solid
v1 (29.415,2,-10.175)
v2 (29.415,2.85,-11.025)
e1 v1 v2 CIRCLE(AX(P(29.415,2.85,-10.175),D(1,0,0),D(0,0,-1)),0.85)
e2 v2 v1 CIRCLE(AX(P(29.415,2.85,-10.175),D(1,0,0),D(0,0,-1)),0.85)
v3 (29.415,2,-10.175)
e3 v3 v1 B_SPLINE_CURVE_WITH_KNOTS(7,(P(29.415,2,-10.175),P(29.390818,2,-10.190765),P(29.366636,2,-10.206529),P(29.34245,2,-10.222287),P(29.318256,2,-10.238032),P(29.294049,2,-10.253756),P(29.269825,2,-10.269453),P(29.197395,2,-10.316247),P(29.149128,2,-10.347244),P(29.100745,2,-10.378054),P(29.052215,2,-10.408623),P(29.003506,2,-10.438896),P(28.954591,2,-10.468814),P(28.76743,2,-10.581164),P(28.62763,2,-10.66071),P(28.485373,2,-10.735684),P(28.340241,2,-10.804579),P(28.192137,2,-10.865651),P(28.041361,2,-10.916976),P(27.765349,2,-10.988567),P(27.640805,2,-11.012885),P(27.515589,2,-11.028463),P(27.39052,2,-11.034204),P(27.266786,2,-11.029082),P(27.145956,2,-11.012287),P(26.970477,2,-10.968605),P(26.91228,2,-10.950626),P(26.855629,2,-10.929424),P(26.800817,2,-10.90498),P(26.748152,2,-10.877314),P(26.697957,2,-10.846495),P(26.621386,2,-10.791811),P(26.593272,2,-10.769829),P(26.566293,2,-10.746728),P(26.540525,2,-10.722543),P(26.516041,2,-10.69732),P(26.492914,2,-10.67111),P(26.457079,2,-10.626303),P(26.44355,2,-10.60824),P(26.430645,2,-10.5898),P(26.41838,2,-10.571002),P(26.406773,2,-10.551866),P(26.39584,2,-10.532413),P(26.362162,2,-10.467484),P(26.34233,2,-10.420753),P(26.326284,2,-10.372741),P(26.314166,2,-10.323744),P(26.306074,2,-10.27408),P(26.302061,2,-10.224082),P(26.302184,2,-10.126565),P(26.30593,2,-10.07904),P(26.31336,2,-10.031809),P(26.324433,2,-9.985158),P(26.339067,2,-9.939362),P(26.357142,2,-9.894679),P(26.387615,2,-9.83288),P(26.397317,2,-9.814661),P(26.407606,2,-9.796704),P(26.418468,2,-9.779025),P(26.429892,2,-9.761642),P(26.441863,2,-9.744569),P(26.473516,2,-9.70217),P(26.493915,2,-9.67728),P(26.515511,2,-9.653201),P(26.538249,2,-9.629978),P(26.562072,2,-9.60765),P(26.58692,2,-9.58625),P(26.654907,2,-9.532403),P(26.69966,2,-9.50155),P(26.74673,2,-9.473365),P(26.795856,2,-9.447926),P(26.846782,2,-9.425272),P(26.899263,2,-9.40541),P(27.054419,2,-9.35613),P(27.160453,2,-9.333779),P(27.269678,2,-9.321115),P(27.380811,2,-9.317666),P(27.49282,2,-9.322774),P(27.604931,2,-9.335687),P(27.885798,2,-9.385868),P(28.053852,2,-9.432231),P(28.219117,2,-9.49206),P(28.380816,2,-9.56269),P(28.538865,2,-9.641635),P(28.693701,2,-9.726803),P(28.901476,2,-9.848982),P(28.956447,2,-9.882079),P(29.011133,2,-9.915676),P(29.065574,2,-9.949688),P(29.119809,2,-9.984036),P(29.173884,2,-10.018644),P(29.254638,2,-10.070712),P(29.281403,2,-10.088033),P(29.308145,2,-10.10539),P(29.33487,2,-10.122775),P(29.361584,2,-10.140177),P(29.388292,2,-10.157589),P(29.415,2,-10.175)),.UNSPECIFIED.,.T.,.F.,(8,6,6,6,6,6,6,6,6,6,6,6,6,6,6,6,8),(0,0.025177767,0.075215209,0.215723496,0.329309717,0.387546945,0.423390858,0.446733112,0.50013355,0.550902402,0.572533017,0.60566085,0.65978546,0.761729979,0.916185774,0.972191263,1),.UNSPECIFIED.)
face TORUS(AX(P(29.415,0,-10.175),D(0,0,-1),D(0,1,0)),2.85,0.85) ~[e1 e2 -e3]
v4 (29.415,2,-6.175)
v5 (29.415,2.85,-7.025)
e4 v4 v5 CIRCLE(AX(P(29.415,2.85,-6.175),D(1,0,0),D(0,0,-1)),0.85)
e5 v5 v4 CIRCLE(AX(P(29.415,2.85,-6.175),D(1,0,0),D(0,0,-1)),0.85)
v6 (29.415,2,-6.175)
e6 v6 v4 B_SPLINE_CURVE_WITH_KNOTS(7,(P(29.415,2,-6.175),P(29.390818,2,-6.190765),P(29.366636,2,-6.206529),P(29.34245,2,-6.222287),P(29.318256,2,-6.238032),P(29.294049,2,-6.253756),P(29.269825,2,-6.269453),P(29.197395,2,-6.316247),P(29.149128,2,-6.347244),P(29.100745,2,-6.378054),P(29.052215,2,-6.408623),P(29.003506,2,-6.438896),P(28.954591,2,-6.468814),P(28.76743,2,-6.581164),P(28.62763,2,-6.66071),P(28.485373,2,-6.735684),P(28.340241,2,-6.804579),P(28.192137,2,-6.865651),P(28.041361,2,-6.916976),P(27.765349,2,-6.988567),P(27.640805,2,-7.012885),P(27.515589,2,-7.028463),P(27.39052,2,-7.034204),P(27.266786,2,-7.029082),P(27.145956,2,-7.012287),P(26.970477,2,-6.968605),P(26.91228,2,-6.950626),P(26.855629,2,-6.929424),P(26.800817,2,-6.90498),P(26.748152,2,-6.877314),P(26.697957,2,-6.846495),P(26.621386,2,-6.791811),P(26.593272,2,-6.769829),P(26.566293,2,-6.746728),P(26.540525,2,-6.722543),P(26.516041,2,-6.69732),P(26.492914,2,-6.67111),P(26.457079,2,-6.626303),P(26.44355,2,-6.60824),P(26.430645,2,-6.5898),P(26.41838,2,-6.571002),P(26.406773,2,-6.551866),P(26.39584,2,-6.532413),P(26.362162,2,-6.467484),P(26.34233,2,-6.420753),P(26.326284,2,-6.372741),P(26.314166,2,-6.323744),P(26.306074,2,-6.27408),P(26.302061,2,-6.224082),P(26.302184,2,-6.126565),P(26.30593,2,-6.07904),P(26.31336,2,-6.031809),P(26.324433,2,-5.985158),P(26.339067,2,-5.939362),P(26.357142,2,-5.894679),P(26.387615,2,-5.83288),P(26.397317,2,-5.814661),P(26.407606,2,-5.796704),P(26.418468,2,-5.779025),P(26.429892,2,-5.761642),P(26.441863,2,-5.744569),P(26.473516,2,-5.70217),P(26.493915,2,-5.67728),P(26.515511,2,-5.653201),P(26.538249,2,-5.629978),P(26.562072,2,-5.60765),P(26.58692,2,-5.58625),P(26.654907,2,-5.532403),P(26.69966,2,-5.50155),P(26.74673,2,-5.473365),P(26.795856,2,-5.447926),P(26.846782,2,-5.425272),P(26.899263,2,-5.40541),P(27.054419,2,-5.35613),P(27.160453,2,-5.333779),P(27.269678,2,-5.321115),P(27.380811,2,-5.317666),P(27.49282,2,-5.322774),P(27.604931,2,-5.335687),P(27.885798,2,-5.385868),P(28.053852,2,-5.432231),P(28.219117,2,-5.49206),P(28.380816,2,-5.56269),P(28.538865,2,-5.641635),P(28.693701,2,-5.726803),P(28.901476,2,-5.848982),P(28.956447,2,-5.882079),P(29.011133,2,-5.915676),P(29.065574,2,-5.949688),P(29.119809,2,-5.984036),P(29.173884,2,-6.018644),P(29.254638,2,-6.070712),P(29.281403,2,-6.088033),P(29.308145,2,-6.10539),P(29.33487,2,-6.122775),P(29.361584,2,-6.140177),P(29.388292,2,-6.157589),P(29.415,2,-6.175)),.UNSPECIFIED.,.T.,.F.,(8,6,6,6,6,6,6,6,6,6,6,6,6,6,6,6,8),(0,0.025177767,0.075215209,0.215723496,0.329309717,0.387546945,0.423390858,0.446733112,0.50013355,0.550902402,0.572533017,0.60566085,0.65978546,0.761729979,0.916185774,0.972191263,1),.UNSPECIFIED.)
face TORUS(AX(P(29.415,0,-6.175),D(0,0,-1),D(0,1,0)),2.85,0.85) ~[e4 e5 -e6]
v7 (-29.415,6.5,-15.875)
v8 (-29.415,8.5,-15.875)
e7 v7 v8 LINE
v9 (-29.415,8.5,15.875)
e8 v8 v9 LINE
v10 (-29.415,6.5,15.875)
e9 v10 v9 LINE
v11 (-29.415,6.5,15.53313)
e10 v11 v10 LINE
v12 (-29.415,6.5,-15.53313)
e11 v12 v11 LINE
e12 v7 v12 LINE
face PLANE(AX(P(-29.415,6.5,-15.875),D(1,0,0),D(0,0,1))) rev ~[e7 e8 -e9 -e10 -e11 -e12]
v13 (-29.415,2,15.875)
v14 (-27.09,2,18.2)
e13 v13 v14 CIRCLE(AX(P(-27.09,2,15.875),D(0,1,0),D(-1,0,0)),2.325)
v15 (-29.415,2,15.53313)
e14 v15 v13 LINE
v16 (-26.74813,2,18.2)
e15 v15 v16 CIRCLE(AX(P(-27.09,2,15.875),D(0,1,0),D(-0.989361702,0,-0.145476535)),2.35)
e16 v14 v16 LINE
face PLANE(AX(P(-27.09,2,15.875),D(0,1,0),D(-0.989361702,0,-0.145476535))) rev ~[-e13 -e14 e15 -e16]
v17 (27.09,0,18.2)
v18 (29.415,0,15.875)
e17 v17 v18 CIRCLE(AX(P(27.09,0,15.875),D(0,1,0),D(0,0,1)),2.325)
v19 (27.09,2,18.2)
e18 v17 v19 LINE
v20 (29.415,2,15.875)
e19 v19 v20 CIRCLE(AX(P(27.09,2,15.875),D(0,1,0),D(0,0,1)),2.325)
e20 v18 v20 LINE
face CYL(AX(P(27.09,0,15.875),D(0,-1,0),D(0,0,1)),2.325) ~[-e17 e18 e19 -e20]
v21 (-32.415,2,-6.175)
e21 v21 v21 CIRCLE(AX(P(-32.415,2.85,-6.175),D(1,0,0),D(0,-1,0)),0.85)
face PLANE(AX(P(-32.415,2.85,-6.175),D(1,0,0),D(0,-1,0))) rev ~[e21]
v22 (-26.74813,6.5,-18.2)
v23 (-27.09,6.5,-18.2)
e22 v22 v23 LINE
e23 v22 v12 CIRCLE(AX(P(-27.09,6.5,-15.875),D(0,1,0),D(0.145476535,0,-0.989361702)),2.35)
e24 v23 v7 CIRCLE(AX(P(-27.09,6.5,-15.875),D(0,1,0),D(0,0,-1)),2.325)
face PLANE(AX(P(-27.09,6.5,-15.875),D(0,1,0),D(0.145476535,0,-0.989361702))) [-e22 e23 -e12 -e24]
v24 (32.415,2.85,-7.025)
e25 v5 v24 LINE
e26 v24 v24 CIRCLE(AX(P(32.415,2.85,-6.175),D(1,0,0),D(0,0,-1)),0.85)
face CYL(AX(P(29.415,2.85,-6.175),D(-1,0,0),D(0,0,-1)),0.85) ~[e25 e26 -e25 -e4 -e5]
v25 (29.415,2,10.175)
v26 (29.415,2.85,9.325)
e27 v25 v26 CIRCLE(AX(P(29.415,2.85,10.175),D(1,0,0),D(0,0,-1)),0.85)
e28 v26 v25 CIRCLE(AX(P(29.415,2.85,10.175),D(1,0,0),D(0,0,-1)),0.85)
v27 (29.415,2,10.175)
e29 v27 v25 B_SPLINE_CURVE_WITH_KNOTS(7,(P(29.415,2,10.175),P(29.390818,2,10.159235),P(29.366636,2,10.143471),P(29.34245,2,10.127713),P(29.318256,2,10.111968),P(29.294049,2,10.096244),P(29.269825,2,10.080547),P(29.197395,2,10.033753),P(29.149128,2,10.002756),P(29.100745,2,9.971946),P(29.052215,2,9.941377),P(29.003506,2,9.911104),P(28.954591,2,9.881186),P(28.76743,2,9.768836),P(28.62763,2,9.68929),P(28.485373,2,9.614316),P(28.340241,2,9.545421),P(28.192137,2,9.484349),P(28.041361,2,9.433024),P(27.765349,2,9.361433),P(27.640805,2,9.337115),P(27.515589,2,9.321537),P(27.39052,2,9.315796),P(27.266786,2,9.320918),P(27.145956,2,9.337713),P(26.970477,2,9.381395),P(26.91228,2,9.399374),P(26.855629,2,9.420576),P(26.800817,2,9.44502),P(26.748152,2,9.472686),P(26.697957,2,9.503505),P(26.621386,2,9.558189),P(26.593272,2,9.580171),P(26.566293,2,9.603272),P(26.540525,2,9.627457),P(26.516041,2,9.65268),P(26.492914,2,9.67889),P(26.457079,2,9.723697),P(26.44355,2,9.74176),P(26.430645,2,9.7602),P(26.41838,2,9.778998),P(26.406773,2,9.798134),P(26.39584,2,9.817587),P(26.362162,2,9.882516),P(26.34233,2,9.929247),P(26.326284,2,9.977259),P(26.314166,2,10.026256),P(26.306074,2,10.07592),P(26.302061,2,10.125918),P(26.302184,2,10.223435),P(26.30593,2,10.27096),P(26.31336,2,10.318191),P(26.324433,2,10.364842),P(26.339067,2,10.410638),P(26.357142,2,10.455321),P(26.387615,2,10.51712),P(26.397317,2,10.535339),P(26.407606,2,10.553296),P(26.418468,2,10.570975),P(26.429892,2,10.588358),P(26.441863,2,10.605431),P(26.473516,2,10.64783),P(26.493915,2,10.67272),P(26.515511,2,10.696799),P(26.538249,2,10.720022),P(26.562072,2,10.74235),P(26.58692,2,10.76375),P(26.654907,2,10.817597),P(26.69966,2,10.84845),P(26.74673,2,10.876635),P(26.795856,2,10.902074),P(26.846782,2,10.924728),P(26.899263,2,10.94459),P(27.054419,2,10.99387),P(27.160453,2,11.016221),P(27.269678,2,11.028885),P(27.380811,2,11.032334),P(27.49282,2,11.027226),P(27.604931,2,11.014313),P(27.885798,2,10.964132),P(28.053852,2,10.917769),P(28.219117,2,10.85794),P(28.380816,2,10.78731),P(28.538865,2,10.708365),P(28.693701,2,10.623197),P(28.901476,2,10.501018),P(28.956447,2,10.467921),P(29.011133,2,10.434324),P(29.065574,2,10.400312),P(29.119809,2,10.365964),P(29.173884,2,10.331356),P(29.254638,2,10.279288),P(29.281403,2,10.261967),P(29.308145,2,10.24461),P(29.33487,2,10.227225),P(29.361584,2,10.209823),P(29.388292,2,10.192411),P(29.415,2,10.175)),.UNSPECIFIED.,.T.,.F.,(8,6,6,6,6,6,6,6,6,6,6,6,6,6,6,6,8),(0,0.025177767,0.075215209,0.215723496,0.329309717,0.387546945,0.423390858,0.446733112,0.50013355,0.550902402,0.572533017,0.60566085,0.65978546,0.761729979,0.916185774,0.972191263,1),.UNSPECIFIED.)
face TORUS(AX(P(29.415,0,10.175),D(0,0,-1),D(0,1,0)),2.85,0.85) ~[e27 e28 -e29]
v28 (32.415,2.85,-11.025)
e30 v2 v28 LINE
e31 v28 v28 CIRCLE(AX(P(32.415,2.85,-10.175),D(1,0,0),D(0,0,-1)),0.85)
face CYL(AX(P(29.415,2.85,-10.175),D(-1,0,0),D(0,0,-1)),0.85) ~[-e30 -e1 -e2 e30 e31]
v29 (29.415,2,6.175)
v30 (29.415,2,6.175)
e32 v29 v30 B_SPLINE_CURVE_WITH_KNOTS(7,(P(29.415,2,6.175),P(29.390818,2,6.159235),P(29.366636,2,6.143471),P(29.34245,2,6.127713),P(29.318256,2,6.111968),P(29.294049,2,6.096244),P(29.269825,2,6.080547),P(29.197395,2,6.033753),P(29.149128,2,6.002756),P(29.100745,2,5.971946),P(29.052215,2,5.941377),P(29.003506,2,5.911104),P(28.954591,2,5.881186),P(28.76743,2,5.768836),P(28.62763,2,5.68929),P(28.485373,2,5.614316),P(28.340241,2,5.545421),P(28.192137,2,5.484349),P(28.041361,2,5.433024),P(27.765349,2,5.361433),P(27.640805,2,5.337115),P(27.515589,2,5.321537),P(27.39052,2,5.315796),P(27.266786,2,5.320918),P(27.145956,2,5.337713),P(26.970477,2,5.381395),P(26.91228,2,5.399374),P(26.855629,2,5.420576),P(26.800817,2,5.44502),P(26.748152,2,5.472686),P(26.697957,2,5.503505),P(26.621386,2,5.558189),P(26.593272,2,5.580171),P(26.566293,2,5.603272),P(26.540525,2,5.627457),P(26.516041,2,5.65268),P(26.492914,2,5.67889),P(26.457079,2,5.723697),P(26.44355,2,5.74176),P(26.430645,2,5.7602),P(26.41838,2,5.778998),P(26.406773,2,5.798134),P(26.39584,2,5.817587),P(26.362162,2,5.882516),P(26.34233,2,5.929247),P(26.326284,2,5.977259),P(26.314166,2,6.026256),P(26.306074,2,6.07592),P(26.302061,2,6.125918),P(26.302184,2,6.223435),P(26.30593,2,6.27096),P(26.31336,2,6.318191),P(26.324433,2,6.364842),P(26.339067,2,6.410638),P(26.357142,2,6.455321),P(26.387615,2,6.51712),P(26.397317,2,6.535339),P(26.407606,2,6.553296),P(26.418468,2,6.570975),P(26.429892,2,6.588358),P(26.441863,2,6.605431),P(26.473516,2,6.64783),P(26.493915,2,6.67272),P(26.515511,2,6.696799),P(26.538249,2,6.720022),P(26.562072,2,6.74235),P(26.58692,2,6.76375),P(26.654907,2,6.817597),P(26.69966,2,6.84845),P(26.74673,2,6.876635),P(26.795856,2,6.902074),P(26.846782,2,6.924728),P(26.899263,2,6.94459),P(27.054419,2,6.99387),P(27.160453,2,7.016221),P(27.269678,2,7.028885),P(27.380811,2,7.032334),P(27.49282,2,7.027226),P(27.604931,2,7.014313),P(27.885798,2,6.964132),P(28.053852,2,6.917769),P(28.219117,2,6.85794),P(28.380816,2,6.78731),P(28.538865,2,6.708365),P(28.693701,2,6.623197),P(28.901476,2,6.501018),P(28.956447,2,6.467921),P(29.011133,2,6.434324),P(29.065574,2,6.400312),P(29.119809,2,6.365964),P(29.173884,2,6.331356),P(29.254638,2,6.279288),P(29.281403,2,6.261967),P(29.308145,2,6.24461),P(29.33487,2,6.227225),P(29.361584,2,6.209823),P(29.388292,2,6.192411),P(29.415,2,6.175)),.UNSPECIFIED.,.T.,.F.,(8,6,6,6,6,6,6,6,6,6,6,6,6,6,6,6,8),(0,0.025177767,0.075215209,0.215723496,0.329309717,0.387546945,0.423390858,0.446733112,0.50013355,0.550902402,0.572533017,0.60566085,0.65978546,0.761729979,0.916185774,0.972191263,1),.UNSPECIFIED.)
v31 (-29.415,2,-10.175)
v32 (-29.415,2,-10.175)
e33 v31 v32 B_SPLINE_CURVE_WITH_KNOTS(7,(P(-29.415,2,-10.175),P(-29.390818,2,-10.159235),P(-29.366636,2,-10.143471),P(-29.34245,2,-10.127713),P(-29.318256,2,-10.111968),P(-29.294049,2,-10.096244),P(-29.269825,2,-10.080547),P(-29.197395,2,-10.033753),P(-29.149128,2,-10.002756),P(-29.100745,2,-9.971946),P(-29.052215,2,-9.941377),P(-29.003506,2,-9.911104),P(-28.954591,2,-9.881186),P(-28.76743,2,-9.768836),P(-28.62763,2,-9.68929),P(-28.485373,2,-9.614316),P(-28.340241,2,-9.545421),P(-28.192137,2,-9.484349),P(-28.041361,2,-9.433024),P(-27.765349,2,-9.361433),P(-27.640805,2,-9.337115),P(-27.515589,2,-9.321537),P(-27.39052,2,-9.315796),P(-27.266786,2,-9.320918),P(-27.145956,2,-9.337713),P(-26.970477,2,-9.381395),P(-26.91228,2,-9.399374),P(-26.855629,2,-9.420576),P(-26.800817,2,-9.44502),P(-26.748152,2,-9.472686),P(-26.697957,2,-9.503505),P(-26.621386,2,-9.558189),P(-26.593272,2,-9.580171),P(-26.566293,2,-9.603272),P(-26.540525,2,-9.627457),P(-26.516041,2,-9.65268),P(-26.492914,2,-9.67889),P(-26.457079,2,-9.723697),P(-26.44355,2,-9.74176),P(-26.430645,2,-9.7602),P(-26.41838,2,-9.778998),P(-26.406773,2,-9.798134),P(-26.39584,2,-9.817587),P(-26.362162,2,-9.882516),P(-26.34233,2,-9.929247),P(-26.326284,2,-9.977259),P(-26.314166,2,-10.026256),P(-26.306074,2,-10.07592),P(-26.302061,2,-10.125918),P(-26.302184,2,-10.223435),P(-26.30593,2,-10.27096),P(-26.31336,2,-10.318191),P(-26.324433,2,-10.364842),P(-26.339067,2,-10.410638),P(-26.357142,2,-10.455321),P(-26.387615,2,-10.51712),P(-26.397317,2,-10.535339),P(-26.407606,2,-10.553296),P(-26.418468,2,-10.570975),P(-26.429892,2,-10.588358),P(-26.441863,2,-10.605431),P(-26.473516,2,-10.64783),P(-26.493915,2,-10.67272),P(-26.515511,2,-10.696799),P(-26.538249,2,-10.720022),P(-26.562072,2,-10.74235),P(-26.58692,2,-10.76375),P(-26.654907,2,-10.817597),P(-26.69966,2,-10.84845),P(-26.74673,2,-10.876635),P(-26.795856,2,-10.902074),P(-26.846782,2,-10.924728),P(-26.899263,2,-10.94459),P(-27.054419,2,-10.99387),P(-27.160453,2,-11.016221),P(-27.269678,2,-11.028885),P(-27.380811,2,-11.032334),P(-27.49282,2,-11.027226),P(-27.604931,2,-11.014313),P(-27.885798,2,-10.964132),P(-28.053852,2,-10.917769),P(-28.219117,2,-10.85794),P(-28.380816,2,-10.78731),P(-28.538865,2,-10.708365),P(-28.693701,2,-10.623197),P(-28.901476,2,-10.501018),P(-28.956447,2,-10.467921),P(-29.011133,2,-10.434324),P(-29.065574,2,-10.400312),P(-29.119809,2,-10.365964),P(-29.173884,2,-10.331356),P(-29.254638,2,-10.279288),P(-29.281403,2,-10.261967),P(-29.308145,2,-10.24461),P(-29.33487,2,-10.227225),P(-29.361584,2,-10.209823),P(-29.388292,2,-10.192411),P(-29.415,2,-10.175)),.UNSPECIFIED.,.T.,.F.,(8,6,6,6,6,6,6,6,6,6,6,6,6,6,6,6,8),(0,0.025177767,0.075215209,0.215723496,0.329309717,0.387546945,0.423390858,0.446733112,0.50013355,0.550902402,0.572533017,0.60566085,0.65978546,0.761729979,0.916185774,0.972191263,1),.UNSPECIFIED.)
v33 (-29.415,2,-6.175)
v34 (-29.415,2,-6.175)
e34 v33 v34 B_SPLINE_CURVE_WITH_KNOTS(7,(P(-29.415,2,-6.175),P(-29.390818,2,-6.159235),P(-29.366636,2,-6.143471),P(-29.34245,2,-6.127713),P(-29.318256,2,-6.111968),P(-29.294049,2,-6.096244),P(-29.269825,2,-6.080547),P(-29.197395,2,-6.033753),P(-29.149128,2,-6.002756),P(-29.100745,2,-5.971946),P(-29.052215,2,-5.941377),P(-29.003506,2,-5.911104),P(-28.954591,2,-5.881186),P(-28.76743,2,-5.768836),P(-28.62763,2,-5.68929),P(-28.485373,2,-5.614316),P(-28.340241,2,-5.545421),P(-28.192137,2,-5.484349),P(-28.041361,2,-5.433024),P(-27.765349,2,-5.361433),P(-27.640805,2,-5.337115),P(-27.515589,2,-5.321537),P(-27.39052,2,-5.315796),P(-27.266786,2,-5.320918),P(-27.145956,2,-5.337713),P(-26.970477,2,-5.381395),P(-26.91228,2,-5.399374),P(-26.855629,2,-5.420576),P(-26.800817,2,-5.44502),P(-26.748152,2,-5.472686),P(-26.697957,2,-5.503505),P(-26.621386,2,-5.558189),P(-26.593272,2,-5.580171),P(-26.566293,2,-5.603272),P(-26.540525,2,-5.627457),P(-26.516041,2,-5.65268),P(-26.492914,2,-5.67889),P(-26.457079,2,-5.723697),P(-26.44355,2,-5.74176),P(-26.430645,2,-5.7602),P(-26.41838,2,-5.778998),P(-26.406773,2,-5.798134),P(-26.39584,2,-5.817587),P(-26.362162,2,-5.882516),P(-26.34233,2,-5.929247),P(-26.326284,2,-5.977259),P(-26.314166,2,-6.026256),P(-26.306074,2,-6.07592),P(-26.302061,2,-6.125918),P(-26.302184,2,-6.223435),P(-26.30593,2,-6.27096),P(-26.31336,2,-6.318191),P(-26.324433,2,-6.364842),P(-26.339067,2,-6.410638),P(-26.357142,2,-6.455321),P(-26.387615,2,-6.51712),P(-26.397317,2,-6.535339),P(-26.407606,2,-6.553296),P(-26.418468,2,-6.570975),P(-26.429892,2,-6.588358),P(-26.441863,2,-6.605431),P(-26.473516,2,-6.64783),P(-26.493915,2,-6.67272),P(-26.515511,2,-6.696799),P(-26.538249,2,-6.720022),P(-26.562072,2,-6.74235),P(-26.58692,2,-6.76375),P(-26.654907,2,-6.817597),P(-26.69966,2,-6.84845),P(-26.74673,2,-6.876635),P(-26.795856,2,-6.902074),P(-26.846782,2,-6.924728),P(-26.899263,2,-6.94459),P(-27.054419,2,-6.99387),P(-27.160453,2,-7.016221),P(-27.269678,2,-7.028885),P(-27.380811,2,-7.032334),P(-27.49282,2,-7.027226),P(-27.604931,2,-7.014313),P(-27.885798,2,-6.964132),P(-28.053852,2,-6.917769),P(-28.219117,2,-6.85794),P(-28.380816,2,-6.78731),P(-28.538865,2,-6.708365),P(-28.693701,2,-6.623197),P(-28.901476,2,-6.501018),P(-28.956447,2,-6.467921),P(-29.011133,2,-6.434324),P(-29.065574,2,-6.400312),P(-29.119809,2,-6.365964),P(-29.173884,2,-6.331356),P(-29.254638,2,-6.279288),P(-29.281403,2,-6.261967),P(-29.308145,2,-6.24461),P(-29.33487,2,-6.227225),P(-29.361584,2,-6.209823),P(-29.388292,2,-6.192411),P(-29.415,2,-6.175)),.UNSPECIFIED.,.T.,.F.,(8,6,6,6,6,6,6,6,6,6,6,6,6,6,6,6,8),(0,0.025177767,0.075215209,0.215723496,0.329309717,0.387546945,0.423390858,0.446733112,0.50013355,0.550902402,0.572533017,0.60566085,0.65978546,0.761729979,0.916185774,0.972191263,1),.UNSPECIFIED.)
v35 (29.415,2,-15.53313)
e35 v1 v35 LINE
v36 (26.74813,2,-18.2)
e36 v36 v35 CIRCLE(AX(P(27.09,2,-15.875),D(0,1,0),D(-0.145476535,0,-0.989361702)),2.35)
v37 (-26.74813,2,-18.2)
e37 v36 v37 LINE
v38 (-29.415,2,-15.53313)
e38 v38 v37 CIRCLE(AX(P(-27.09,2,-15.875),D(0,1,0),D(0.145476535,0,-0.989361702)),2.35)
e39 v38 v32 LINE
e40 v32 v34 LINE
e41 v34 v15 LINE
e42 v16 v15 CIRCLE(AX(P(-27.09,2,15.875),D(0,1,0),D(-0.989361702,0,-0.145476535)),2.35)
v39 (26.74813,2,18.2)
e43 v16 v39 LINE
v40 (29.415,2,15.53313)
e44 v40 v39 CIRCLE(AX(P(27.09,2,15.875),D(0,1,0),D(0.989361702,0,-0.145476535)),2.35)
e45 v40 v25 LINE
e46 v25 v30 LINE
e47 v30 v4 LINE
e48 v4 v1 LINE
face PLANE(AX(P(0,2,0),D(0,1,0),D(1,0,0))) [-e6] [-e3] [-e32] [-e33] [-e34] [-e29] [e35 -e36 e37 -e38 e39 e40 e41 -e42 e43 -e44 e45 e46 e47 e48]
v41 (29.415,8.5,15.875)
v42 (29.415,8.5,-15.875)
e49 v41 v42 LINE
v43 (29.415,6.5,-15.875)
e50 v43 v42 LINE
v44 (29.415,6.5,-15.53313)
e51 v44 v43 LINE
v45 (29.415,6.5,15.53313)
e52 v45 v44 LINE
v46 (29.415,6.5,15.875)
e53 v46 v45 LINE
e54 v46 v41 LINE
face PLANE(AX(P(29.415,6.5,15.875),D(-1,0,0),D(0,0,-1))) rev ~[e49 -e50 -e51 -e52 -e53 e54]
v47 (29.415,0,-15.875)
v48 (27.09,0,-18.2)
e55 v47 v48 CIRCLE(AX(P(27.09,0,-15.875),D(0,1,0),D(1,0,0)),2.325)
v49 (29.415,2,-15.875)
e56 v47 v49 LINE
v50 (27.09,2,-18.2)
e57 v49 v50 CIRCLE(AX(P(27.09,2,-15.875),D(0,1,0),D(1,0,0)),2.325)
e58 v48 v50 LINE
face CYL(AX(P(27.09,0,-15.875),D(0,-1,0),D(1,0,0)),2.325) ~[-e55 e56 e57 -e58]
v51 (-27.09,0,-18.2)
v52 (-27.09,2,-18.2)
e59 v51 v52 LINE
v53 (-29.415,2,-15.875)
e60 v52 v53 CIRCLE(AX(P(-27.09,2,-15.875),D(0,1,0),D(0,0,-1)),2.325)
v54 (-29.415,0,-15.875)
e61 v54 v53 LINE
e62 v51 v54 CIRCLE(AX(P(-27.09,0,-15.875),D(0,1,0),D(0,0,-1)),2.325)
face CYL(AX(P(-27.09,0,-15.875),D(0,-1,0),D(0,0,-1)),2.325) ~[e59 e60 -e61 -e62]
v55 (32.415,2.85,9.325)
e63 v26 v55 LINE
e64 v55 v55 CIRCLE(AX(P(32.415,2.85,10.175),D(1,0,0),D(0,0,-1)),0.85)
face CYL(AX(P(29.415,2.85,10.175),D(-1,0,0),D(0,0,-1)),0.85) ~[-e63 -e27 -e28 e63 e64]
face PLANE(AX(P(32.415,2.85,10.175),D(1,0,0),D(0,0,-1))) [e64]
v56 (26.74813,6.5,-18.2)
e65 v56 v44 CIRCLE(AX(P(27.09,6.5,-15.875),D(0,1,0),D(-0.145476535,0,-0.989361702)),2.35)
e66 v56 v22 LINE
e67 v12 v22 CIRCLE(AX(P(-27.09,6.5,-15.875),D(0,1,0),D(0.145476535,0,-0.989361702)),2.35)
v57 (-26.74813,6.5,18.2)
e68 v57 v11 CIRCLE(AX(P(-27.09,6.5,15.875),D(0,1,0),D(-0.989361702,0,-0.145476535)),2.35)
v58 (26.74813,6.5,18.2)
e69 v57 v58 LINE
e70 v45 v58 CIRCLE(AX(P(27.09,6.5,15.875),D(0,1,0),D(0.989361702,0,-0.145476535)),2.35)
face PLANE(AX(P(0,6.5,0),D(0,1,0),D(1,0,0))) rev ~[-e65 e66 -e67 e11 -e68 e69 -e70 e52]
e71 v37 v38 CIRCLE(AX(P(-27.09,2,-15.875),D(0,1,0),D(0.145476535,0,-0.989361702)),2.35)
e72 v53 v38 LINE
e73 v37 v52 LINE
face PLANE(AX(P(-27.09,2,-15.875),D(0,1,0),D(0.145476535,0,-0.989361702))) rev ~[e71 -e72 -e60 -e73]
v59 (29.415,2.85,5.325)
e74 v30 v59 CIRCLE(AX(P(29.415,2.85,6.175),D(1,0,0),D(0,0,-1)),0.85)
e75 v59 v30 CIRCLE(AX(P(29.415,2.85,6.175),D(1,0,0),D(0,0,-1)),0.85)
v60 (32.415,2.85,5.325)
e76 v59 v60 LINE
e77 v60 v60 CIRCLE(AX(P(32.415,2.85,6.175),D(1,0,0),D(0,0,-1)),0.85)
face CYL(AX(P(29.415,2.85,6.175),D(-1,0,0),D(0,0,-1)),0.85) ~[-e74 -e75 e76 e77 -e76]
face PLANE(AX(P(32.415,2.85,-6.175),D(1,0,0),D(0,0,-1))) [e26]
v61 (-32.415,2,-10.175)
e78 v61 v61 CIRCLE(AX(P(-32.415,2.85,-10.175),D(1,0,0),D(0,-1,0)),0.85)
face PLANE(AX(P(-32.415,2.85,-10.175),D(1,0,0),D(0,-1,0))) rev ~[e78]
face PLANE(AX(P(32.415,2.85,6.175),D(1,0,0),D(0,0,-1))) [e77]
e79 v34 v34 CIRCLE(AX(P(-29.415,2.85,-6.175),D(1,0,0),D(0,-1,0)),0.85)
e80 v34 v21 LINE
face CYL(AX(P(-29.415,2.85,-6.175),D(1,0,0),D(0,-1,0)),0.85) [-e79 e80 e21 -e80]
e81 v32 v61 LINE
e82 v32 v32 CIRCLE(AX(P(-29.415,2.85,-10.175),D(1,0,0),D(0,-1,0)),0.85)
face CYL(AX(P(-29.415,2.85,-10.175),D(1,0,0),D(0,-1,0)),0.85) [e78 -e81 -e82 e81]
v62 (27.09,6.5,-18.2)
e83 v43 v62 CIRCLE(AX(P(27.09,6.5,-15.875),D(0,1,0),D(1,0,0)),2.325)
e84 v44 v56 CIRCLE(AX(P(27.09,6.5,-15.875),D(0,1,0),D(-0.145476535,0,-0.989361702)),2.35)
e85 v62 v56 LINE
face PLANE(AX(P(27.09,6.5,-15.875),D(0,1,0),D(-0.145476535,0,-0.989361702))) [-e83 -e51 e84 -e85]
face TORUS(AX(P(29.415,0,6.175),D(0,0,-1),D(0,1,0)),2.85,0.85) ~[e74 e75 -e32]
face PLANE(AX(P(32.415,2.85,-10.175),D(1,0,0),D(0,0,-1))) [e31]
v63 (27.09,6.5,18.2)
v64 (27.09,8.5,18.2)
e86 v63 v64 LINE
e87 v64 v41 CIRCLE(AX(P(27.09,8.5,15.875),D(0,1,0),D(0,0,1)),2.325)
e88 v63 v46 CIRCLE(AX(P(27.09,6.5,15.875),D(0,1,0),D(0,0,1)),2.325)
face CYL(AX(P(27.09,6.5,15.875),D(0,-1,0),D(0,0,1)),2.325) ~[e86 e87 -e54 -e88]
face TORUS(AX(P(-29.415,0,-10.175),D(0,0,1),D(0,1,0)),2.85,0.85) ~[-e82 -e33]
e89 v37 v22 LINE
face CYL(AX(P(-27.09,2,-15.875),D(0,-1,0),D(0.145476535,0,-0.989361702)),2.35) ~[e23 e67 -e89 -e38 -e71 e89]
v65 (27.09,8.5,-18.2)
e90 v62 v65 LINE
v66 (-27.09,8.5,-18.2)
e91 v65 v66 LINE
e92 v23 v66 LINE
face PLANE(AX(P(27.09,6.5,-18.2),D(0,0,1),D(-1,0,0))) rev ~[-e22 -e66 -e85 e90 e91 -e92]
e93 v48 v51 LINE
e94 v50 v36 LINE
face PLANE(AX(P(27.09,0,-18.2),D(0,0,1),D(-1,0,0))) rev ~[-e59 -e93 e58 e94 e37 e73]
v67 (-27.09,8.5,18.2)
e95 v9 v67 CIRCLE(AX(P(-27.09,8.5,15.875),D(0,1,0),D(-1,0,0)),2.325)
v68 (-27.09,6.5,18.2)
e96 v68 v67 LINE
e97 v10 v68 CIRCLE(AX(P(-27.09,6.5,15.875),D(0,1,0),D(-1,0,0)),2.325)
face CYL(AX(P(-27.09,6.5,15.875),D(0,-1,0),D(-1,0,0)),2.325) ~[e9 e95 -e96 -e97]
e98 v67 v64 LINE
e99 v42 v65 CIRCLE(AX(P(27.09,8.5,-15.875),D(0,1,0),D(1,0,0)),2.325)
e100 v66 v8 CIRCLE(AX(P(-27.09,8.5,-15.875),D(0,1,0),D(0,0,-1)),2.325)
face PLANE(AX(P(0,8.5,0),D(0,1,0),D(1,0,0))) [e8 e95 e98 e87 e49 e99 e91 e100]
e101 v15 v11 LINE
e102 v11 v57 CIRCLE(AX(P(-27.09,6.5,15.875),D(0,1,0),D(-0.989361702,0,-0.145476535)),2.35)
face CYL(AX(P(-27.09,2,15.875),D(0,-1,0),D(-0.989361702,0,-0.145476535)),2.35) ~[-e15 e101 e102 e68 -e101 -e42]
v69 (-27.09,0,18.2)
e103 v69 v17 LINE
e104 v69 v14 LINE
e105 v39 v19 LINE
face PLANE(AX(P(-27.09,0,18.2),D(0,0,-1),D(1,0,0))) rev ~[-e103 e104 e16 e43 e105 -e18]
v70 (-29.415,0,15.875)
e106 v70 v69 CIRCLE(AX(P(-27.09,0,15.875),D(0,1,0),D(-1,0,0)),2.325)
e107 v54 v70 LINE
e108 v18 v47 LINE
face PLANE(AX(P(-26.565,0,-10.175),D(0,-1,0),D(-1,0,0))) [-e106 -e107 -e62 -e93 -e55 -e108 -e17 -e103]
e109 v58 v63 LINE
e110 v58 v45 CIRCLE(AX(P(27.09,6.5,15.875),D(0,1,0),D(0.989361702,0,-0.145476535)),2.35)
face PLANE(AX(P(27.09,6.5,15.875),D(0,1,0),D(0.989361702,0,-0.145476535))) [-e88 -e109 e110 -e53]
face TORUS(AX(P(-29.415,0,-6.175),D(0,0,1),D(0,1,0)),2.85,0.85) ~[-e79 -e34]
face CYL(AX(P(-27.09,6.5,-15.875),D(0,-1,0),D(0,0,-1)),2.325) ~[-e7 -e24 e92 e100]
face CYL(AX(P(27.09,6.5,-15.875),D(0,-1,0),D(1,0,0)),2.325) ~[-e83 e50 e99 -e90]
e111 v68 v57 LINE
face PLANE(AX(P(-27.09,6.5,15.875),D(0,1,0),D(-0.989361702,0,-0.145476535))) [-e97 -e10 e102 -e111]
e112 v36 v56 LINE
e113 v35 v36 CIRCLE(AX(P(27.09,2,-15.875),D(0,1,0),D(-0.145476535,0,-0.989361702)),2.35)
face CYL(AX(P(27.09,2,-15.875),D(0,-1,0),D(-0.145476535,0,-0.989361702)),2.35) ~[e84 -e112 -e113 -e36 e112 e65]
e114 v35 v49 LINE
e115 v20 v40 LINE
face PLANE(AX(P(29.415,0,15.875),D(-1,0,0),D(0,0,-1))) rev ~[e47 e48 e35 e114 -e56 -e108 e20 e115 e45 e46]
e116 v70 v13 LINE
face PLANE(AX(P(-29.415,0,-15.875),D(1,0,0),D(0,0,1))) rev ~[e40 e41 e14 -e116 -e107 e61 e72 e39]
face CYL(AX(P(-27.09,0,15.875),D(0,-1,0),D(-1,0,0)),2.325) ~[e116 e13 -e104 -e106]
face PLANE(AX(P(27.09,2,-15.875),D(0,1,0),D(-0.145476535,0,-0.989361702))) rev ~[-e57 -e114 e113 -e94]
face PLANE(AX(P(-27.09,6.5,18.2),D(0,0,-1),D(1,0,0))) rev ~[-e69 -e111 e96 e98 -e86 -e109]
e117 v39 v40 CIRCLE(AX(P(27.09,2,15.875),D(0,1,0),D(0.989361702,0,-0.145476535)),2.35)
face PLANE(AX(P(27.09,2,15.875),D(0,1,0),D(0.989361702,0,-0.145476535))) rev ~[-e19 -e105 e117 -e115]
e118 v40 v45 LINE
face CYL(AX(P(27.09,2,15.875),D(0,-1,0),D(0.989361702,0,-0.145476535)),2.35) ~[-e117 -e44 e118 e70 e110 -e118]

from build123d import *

# Parameters (mm, degrees)
BOSS_EXTRUDE1_DEPTH   = 2
SKETCH2_R             = 2.35
BOSS_EXTRUDE2_DEPTH   = 4.5
BOSS_EXTRUDE3_START   = 6.5
BOSS_EXTRUDE3_DEPTH   = 2
BOSS_EXTRUDE4_START   = 29.415
SKETCH4_R             = 0.85
BOSS_EXTRUDE4_DEPTH   = 3
BOSS_EXTRUDE4_2_DEPTH = 3
BOSS_EXTRUDE4_3_DEPTH = 3
BOSS_EXTRUDE4_4_DEPTH = 3
SKETCH5_R             = 0.85
REVOLVE2_ANGLE        = 90
BOSS_EXTRUDE5_START   = -29.415
SKETCH4_2_R           = 0.85
BOSS_EXTRUDE5_DEPTH   = 3
BOSS_EXTRUDE5_2_DEPTH = 3
SKETCH6_R             = 0.85
REVOLVE3_ANGLE        = 90


with BuildPart() as part:
    # Sketch1 → Boss-Extrude1 (new body)
    with BuildSketch(Plane(origin=(0, 0, 0), x_dir=(1, 0, 0), z_dir=(0, 1, 0))):
        with BuildLine():
            ThreePointArc((-29.415, -15.875), (-28.734023266, -17.519023266), (-27.09, -18.2))
            Line((-27.09, -18.2), (27.09, -18.2))
            ThreePointArc((27.09, -18.2), (28.734023266, -17.519023266), (29.415, -15.875))
            Line((29.415, -15.875), (29.415, 15.875))
            ThreePointArc((29.415, 15.875), (28.734023266, 17.519023266), (27.09, 18.2))
            Line((27.09, 18.2), (-27.09, 18.2))
            ThreePointArc((-27.09, 18.2), (-28.734023266, 17.519023266), (-29.415, 15.875))
            Line((-29.415, 15.875), (-29.415, -15.875))
        make_face()
    extrude(amount=BOSS_EXTRUDE1_DEPTH)

    # Sketch2 → Boss-Extrude2 (add)
    with BuildSketch(Plane(origin=(0, 2, 0), x_dir=(1, 0, 0), z_dir=(0, 1, 0))):
        with Locations(Location((-27.09, -15.875, 0), (0, 0, 171.635124732))):
            Circle(SKETCH2_R)
        with Locations(Location((-27.09, 15.875, 0), (0, 0, 81.635124732))):
            Circle(SKETCH2_R)
        with Locations(Location((27.09, 15.875, 0), (0, 0, 98.364875268))):
            Circle(SKETCH2_R)
        with Locations(Location((27.09, -15.875, 0), (0, 0, 8.364875268))):
            Circle(SKETCH2_R)
    extrude(amount=BOSS_EXTRUDE2_DEPTH)

    # Sketch1<3> → Boss-Extrude3 (add)
    with BuildSketch(Plane(origin=(0, 0, 0), x_dir=(1, 0, 0), z_dir=(0, 1, 0)).offset(BOSS_EXTRUDE3_START)):
        with BuildLine():
            ThreePointArc((-29.415, -15.875), (-28.734023266, -17.519023266), (-27.09, -18.2))
            Line((-27.09, -18.2), (27.09, -18.2))
            ThreePointArc((27.09, -18.2), (28.734023266, -17.519023266), (29.415, -15.875))
            Line((29.415, -15.875), (29.415, 15.875))
            ThreePointArc((29.415, 15.875), (28.734023266, 17.519023266), (27.09, 18.2))
            Line((27.09, 18.2), (-27.09, 18.2))
            ThreePointArc((-27.09, 18.2), (-28.734023266, 17.519023266), (-29.415, 15.875))
            Line((-29.415, 15.875), (-29.415, -15.875))
        make_face()
    extrude(amount=BOSS_EXTRUDE3_DEPTH)



with BuildPart() as body_2:
    # Sketch4 → Boss-Extrude4 (new body)
    with BuildSketch(Plane(origin=(0, 0, 0), x_dir=(0, 0, -1), z_dir=(1, 0, 0)).offset(BOSS_EXTRUDE4_START)):
        with Locations((10.175, 2.85)):
            Circle(SKETCH4_R)
    extrude(amount=BOSS_EXTRUDE4_DEPTH)


with BuildPart() as body_3:
    # Sketch4 → Boss-Extrude4 2 (new body)
    with BuildSketch(Plane(origin=(0, 0, 0), x_dir=(0, 0, -1), z_dir=(1, 0, 0)).offset(BOSS_EXTRUDE4_START)):
        with Locations((6.175, 2.85)):
            Circle(SKETCH4_R)
    extrude(amount=BOSS_EXTRUDE4_2_DEPTH)


with BuildPart() as body_4:
    # Sketch4 → Boss-Extrude4 3 (new body)
    with BuildSketch(Plane(origin=(0, 0, 0), x_dir=(0, 0, -1), z_dir=(1, 0, 0)).offset(BOSS_EXTRUDE4_START)):
        with Locations((-6.175, 2.85)):
            Circle(SKETCH4_R)
    extrude(amount=BOSS_EXTRUDE4_3_DEPTH)


with BuildPart() as body_5:
    # Sketch4 → Boss-Extrude4 4 (new body)
    with BuildSketch(Plane(origin=(0, 0, 0), x_dir=(0, 0, -1), z_dir=(1, 0, 0)).offset(BOSS_EXTRUDE4_START)):
        with Locations((-10.175, 2.85)):
            Circle(SKETCH4_R)
    extrude(amount=BOSS_EXTRUDE4_4_DEPTH)


with BuildPart() as part_1:
    add(part.part)

    add(body_2.part)  # Revolve2 merges body 2

    add(body_3.part)  # Revolve2 merges body 3

    add(body_4.part)  # Revolve2 merges body 4

    add(body_5.part)  # Revolve2 merges body 5
    # Sketch5 → Revolve2 (revolve)
    with BuildSketch(Plane.ZY.offset(-29.415)):
        with Locations(Location((10.175, 2.85, 0), (0, 0, 270))):
            Circle(SKETCH5_R)
        with Locations(Location((6.175, 2.85, 0), (0, 0, 270))):
            Circle(SKETCH5_R)
        with Locations(Location((-6.175, 2.85, 0), (0, 0, 270))):
            Circle(SKETCH5_R)
        with Locations(Location((-10.175, 2.85, 0), (0, 0, 270))):
            Circle(SKETCH5_R)
    revolve(axis=Axis((29.415, 0, 0), (0, 0, 1)), revolution_arc=REVOLVE2_ANGLE)



with BuildPart() as body_2_2:
    # Sketch4<2> → Boss-Extrude5 (new body)
    with BuildSketch(Plane(origin=(0, 0, 0), x_dir=(0, 0, -1), z_dir=(1, 0, 0)).offset(BOSS_EXTRUDE5_START)):
        with Locations(Location((6.175, 2.85, 0), (0, 0, 270))):
            Circle(SKETCH4_2_R)
    extrude(amount=-BOSS_EXTRUDE5_DEPTH)


with BuildPart() as body_3_2:
    # Sketch4<2> → Boss-Extrude5 2 (new body)
    with BuildSketch(Plane(origin=(0, 0, 0), x_dir=(0, 0, -1), z_dir=(1, 0, 0)).offset(BOSS_EXTRUDE5_START)):
        with Locations(Location((10.175, 2.85, 0), (0, 0, 270))):
            Circle(SKETCH4_2_R)
    extrude(amount=-BOSS_EXTRUDE5_2_DEPTH)


with BuildPart() as part_2:
    add(part_1.part)

    add(body_2_2.part)  # Revolve3 merges body 2 2

    add(body_3_2.part)  # Revolve3 merges body 3 2
    # Sketch6 → Revolve3 (revolve)
    with BuildSketch(Plane(origin=(-29.415, 0, 0), x_dir=(0, 0, -1), z_dir=(1, 0, 0))):
        with Locations(Location((10.175, 2.85, 0), (0, 0, 270))):
            Circle(SKETCH6_R)
        with Locations(Location((6.175, 2.85, 0), (0, 0, 270))):
            Circle(SKETCH6_R)
    revolve(axis=Axis((-29.415, 0, 0), (0, 0, -1)), revolution_arc=REVOLVE3_ANGLE)


solid = part_2.part
